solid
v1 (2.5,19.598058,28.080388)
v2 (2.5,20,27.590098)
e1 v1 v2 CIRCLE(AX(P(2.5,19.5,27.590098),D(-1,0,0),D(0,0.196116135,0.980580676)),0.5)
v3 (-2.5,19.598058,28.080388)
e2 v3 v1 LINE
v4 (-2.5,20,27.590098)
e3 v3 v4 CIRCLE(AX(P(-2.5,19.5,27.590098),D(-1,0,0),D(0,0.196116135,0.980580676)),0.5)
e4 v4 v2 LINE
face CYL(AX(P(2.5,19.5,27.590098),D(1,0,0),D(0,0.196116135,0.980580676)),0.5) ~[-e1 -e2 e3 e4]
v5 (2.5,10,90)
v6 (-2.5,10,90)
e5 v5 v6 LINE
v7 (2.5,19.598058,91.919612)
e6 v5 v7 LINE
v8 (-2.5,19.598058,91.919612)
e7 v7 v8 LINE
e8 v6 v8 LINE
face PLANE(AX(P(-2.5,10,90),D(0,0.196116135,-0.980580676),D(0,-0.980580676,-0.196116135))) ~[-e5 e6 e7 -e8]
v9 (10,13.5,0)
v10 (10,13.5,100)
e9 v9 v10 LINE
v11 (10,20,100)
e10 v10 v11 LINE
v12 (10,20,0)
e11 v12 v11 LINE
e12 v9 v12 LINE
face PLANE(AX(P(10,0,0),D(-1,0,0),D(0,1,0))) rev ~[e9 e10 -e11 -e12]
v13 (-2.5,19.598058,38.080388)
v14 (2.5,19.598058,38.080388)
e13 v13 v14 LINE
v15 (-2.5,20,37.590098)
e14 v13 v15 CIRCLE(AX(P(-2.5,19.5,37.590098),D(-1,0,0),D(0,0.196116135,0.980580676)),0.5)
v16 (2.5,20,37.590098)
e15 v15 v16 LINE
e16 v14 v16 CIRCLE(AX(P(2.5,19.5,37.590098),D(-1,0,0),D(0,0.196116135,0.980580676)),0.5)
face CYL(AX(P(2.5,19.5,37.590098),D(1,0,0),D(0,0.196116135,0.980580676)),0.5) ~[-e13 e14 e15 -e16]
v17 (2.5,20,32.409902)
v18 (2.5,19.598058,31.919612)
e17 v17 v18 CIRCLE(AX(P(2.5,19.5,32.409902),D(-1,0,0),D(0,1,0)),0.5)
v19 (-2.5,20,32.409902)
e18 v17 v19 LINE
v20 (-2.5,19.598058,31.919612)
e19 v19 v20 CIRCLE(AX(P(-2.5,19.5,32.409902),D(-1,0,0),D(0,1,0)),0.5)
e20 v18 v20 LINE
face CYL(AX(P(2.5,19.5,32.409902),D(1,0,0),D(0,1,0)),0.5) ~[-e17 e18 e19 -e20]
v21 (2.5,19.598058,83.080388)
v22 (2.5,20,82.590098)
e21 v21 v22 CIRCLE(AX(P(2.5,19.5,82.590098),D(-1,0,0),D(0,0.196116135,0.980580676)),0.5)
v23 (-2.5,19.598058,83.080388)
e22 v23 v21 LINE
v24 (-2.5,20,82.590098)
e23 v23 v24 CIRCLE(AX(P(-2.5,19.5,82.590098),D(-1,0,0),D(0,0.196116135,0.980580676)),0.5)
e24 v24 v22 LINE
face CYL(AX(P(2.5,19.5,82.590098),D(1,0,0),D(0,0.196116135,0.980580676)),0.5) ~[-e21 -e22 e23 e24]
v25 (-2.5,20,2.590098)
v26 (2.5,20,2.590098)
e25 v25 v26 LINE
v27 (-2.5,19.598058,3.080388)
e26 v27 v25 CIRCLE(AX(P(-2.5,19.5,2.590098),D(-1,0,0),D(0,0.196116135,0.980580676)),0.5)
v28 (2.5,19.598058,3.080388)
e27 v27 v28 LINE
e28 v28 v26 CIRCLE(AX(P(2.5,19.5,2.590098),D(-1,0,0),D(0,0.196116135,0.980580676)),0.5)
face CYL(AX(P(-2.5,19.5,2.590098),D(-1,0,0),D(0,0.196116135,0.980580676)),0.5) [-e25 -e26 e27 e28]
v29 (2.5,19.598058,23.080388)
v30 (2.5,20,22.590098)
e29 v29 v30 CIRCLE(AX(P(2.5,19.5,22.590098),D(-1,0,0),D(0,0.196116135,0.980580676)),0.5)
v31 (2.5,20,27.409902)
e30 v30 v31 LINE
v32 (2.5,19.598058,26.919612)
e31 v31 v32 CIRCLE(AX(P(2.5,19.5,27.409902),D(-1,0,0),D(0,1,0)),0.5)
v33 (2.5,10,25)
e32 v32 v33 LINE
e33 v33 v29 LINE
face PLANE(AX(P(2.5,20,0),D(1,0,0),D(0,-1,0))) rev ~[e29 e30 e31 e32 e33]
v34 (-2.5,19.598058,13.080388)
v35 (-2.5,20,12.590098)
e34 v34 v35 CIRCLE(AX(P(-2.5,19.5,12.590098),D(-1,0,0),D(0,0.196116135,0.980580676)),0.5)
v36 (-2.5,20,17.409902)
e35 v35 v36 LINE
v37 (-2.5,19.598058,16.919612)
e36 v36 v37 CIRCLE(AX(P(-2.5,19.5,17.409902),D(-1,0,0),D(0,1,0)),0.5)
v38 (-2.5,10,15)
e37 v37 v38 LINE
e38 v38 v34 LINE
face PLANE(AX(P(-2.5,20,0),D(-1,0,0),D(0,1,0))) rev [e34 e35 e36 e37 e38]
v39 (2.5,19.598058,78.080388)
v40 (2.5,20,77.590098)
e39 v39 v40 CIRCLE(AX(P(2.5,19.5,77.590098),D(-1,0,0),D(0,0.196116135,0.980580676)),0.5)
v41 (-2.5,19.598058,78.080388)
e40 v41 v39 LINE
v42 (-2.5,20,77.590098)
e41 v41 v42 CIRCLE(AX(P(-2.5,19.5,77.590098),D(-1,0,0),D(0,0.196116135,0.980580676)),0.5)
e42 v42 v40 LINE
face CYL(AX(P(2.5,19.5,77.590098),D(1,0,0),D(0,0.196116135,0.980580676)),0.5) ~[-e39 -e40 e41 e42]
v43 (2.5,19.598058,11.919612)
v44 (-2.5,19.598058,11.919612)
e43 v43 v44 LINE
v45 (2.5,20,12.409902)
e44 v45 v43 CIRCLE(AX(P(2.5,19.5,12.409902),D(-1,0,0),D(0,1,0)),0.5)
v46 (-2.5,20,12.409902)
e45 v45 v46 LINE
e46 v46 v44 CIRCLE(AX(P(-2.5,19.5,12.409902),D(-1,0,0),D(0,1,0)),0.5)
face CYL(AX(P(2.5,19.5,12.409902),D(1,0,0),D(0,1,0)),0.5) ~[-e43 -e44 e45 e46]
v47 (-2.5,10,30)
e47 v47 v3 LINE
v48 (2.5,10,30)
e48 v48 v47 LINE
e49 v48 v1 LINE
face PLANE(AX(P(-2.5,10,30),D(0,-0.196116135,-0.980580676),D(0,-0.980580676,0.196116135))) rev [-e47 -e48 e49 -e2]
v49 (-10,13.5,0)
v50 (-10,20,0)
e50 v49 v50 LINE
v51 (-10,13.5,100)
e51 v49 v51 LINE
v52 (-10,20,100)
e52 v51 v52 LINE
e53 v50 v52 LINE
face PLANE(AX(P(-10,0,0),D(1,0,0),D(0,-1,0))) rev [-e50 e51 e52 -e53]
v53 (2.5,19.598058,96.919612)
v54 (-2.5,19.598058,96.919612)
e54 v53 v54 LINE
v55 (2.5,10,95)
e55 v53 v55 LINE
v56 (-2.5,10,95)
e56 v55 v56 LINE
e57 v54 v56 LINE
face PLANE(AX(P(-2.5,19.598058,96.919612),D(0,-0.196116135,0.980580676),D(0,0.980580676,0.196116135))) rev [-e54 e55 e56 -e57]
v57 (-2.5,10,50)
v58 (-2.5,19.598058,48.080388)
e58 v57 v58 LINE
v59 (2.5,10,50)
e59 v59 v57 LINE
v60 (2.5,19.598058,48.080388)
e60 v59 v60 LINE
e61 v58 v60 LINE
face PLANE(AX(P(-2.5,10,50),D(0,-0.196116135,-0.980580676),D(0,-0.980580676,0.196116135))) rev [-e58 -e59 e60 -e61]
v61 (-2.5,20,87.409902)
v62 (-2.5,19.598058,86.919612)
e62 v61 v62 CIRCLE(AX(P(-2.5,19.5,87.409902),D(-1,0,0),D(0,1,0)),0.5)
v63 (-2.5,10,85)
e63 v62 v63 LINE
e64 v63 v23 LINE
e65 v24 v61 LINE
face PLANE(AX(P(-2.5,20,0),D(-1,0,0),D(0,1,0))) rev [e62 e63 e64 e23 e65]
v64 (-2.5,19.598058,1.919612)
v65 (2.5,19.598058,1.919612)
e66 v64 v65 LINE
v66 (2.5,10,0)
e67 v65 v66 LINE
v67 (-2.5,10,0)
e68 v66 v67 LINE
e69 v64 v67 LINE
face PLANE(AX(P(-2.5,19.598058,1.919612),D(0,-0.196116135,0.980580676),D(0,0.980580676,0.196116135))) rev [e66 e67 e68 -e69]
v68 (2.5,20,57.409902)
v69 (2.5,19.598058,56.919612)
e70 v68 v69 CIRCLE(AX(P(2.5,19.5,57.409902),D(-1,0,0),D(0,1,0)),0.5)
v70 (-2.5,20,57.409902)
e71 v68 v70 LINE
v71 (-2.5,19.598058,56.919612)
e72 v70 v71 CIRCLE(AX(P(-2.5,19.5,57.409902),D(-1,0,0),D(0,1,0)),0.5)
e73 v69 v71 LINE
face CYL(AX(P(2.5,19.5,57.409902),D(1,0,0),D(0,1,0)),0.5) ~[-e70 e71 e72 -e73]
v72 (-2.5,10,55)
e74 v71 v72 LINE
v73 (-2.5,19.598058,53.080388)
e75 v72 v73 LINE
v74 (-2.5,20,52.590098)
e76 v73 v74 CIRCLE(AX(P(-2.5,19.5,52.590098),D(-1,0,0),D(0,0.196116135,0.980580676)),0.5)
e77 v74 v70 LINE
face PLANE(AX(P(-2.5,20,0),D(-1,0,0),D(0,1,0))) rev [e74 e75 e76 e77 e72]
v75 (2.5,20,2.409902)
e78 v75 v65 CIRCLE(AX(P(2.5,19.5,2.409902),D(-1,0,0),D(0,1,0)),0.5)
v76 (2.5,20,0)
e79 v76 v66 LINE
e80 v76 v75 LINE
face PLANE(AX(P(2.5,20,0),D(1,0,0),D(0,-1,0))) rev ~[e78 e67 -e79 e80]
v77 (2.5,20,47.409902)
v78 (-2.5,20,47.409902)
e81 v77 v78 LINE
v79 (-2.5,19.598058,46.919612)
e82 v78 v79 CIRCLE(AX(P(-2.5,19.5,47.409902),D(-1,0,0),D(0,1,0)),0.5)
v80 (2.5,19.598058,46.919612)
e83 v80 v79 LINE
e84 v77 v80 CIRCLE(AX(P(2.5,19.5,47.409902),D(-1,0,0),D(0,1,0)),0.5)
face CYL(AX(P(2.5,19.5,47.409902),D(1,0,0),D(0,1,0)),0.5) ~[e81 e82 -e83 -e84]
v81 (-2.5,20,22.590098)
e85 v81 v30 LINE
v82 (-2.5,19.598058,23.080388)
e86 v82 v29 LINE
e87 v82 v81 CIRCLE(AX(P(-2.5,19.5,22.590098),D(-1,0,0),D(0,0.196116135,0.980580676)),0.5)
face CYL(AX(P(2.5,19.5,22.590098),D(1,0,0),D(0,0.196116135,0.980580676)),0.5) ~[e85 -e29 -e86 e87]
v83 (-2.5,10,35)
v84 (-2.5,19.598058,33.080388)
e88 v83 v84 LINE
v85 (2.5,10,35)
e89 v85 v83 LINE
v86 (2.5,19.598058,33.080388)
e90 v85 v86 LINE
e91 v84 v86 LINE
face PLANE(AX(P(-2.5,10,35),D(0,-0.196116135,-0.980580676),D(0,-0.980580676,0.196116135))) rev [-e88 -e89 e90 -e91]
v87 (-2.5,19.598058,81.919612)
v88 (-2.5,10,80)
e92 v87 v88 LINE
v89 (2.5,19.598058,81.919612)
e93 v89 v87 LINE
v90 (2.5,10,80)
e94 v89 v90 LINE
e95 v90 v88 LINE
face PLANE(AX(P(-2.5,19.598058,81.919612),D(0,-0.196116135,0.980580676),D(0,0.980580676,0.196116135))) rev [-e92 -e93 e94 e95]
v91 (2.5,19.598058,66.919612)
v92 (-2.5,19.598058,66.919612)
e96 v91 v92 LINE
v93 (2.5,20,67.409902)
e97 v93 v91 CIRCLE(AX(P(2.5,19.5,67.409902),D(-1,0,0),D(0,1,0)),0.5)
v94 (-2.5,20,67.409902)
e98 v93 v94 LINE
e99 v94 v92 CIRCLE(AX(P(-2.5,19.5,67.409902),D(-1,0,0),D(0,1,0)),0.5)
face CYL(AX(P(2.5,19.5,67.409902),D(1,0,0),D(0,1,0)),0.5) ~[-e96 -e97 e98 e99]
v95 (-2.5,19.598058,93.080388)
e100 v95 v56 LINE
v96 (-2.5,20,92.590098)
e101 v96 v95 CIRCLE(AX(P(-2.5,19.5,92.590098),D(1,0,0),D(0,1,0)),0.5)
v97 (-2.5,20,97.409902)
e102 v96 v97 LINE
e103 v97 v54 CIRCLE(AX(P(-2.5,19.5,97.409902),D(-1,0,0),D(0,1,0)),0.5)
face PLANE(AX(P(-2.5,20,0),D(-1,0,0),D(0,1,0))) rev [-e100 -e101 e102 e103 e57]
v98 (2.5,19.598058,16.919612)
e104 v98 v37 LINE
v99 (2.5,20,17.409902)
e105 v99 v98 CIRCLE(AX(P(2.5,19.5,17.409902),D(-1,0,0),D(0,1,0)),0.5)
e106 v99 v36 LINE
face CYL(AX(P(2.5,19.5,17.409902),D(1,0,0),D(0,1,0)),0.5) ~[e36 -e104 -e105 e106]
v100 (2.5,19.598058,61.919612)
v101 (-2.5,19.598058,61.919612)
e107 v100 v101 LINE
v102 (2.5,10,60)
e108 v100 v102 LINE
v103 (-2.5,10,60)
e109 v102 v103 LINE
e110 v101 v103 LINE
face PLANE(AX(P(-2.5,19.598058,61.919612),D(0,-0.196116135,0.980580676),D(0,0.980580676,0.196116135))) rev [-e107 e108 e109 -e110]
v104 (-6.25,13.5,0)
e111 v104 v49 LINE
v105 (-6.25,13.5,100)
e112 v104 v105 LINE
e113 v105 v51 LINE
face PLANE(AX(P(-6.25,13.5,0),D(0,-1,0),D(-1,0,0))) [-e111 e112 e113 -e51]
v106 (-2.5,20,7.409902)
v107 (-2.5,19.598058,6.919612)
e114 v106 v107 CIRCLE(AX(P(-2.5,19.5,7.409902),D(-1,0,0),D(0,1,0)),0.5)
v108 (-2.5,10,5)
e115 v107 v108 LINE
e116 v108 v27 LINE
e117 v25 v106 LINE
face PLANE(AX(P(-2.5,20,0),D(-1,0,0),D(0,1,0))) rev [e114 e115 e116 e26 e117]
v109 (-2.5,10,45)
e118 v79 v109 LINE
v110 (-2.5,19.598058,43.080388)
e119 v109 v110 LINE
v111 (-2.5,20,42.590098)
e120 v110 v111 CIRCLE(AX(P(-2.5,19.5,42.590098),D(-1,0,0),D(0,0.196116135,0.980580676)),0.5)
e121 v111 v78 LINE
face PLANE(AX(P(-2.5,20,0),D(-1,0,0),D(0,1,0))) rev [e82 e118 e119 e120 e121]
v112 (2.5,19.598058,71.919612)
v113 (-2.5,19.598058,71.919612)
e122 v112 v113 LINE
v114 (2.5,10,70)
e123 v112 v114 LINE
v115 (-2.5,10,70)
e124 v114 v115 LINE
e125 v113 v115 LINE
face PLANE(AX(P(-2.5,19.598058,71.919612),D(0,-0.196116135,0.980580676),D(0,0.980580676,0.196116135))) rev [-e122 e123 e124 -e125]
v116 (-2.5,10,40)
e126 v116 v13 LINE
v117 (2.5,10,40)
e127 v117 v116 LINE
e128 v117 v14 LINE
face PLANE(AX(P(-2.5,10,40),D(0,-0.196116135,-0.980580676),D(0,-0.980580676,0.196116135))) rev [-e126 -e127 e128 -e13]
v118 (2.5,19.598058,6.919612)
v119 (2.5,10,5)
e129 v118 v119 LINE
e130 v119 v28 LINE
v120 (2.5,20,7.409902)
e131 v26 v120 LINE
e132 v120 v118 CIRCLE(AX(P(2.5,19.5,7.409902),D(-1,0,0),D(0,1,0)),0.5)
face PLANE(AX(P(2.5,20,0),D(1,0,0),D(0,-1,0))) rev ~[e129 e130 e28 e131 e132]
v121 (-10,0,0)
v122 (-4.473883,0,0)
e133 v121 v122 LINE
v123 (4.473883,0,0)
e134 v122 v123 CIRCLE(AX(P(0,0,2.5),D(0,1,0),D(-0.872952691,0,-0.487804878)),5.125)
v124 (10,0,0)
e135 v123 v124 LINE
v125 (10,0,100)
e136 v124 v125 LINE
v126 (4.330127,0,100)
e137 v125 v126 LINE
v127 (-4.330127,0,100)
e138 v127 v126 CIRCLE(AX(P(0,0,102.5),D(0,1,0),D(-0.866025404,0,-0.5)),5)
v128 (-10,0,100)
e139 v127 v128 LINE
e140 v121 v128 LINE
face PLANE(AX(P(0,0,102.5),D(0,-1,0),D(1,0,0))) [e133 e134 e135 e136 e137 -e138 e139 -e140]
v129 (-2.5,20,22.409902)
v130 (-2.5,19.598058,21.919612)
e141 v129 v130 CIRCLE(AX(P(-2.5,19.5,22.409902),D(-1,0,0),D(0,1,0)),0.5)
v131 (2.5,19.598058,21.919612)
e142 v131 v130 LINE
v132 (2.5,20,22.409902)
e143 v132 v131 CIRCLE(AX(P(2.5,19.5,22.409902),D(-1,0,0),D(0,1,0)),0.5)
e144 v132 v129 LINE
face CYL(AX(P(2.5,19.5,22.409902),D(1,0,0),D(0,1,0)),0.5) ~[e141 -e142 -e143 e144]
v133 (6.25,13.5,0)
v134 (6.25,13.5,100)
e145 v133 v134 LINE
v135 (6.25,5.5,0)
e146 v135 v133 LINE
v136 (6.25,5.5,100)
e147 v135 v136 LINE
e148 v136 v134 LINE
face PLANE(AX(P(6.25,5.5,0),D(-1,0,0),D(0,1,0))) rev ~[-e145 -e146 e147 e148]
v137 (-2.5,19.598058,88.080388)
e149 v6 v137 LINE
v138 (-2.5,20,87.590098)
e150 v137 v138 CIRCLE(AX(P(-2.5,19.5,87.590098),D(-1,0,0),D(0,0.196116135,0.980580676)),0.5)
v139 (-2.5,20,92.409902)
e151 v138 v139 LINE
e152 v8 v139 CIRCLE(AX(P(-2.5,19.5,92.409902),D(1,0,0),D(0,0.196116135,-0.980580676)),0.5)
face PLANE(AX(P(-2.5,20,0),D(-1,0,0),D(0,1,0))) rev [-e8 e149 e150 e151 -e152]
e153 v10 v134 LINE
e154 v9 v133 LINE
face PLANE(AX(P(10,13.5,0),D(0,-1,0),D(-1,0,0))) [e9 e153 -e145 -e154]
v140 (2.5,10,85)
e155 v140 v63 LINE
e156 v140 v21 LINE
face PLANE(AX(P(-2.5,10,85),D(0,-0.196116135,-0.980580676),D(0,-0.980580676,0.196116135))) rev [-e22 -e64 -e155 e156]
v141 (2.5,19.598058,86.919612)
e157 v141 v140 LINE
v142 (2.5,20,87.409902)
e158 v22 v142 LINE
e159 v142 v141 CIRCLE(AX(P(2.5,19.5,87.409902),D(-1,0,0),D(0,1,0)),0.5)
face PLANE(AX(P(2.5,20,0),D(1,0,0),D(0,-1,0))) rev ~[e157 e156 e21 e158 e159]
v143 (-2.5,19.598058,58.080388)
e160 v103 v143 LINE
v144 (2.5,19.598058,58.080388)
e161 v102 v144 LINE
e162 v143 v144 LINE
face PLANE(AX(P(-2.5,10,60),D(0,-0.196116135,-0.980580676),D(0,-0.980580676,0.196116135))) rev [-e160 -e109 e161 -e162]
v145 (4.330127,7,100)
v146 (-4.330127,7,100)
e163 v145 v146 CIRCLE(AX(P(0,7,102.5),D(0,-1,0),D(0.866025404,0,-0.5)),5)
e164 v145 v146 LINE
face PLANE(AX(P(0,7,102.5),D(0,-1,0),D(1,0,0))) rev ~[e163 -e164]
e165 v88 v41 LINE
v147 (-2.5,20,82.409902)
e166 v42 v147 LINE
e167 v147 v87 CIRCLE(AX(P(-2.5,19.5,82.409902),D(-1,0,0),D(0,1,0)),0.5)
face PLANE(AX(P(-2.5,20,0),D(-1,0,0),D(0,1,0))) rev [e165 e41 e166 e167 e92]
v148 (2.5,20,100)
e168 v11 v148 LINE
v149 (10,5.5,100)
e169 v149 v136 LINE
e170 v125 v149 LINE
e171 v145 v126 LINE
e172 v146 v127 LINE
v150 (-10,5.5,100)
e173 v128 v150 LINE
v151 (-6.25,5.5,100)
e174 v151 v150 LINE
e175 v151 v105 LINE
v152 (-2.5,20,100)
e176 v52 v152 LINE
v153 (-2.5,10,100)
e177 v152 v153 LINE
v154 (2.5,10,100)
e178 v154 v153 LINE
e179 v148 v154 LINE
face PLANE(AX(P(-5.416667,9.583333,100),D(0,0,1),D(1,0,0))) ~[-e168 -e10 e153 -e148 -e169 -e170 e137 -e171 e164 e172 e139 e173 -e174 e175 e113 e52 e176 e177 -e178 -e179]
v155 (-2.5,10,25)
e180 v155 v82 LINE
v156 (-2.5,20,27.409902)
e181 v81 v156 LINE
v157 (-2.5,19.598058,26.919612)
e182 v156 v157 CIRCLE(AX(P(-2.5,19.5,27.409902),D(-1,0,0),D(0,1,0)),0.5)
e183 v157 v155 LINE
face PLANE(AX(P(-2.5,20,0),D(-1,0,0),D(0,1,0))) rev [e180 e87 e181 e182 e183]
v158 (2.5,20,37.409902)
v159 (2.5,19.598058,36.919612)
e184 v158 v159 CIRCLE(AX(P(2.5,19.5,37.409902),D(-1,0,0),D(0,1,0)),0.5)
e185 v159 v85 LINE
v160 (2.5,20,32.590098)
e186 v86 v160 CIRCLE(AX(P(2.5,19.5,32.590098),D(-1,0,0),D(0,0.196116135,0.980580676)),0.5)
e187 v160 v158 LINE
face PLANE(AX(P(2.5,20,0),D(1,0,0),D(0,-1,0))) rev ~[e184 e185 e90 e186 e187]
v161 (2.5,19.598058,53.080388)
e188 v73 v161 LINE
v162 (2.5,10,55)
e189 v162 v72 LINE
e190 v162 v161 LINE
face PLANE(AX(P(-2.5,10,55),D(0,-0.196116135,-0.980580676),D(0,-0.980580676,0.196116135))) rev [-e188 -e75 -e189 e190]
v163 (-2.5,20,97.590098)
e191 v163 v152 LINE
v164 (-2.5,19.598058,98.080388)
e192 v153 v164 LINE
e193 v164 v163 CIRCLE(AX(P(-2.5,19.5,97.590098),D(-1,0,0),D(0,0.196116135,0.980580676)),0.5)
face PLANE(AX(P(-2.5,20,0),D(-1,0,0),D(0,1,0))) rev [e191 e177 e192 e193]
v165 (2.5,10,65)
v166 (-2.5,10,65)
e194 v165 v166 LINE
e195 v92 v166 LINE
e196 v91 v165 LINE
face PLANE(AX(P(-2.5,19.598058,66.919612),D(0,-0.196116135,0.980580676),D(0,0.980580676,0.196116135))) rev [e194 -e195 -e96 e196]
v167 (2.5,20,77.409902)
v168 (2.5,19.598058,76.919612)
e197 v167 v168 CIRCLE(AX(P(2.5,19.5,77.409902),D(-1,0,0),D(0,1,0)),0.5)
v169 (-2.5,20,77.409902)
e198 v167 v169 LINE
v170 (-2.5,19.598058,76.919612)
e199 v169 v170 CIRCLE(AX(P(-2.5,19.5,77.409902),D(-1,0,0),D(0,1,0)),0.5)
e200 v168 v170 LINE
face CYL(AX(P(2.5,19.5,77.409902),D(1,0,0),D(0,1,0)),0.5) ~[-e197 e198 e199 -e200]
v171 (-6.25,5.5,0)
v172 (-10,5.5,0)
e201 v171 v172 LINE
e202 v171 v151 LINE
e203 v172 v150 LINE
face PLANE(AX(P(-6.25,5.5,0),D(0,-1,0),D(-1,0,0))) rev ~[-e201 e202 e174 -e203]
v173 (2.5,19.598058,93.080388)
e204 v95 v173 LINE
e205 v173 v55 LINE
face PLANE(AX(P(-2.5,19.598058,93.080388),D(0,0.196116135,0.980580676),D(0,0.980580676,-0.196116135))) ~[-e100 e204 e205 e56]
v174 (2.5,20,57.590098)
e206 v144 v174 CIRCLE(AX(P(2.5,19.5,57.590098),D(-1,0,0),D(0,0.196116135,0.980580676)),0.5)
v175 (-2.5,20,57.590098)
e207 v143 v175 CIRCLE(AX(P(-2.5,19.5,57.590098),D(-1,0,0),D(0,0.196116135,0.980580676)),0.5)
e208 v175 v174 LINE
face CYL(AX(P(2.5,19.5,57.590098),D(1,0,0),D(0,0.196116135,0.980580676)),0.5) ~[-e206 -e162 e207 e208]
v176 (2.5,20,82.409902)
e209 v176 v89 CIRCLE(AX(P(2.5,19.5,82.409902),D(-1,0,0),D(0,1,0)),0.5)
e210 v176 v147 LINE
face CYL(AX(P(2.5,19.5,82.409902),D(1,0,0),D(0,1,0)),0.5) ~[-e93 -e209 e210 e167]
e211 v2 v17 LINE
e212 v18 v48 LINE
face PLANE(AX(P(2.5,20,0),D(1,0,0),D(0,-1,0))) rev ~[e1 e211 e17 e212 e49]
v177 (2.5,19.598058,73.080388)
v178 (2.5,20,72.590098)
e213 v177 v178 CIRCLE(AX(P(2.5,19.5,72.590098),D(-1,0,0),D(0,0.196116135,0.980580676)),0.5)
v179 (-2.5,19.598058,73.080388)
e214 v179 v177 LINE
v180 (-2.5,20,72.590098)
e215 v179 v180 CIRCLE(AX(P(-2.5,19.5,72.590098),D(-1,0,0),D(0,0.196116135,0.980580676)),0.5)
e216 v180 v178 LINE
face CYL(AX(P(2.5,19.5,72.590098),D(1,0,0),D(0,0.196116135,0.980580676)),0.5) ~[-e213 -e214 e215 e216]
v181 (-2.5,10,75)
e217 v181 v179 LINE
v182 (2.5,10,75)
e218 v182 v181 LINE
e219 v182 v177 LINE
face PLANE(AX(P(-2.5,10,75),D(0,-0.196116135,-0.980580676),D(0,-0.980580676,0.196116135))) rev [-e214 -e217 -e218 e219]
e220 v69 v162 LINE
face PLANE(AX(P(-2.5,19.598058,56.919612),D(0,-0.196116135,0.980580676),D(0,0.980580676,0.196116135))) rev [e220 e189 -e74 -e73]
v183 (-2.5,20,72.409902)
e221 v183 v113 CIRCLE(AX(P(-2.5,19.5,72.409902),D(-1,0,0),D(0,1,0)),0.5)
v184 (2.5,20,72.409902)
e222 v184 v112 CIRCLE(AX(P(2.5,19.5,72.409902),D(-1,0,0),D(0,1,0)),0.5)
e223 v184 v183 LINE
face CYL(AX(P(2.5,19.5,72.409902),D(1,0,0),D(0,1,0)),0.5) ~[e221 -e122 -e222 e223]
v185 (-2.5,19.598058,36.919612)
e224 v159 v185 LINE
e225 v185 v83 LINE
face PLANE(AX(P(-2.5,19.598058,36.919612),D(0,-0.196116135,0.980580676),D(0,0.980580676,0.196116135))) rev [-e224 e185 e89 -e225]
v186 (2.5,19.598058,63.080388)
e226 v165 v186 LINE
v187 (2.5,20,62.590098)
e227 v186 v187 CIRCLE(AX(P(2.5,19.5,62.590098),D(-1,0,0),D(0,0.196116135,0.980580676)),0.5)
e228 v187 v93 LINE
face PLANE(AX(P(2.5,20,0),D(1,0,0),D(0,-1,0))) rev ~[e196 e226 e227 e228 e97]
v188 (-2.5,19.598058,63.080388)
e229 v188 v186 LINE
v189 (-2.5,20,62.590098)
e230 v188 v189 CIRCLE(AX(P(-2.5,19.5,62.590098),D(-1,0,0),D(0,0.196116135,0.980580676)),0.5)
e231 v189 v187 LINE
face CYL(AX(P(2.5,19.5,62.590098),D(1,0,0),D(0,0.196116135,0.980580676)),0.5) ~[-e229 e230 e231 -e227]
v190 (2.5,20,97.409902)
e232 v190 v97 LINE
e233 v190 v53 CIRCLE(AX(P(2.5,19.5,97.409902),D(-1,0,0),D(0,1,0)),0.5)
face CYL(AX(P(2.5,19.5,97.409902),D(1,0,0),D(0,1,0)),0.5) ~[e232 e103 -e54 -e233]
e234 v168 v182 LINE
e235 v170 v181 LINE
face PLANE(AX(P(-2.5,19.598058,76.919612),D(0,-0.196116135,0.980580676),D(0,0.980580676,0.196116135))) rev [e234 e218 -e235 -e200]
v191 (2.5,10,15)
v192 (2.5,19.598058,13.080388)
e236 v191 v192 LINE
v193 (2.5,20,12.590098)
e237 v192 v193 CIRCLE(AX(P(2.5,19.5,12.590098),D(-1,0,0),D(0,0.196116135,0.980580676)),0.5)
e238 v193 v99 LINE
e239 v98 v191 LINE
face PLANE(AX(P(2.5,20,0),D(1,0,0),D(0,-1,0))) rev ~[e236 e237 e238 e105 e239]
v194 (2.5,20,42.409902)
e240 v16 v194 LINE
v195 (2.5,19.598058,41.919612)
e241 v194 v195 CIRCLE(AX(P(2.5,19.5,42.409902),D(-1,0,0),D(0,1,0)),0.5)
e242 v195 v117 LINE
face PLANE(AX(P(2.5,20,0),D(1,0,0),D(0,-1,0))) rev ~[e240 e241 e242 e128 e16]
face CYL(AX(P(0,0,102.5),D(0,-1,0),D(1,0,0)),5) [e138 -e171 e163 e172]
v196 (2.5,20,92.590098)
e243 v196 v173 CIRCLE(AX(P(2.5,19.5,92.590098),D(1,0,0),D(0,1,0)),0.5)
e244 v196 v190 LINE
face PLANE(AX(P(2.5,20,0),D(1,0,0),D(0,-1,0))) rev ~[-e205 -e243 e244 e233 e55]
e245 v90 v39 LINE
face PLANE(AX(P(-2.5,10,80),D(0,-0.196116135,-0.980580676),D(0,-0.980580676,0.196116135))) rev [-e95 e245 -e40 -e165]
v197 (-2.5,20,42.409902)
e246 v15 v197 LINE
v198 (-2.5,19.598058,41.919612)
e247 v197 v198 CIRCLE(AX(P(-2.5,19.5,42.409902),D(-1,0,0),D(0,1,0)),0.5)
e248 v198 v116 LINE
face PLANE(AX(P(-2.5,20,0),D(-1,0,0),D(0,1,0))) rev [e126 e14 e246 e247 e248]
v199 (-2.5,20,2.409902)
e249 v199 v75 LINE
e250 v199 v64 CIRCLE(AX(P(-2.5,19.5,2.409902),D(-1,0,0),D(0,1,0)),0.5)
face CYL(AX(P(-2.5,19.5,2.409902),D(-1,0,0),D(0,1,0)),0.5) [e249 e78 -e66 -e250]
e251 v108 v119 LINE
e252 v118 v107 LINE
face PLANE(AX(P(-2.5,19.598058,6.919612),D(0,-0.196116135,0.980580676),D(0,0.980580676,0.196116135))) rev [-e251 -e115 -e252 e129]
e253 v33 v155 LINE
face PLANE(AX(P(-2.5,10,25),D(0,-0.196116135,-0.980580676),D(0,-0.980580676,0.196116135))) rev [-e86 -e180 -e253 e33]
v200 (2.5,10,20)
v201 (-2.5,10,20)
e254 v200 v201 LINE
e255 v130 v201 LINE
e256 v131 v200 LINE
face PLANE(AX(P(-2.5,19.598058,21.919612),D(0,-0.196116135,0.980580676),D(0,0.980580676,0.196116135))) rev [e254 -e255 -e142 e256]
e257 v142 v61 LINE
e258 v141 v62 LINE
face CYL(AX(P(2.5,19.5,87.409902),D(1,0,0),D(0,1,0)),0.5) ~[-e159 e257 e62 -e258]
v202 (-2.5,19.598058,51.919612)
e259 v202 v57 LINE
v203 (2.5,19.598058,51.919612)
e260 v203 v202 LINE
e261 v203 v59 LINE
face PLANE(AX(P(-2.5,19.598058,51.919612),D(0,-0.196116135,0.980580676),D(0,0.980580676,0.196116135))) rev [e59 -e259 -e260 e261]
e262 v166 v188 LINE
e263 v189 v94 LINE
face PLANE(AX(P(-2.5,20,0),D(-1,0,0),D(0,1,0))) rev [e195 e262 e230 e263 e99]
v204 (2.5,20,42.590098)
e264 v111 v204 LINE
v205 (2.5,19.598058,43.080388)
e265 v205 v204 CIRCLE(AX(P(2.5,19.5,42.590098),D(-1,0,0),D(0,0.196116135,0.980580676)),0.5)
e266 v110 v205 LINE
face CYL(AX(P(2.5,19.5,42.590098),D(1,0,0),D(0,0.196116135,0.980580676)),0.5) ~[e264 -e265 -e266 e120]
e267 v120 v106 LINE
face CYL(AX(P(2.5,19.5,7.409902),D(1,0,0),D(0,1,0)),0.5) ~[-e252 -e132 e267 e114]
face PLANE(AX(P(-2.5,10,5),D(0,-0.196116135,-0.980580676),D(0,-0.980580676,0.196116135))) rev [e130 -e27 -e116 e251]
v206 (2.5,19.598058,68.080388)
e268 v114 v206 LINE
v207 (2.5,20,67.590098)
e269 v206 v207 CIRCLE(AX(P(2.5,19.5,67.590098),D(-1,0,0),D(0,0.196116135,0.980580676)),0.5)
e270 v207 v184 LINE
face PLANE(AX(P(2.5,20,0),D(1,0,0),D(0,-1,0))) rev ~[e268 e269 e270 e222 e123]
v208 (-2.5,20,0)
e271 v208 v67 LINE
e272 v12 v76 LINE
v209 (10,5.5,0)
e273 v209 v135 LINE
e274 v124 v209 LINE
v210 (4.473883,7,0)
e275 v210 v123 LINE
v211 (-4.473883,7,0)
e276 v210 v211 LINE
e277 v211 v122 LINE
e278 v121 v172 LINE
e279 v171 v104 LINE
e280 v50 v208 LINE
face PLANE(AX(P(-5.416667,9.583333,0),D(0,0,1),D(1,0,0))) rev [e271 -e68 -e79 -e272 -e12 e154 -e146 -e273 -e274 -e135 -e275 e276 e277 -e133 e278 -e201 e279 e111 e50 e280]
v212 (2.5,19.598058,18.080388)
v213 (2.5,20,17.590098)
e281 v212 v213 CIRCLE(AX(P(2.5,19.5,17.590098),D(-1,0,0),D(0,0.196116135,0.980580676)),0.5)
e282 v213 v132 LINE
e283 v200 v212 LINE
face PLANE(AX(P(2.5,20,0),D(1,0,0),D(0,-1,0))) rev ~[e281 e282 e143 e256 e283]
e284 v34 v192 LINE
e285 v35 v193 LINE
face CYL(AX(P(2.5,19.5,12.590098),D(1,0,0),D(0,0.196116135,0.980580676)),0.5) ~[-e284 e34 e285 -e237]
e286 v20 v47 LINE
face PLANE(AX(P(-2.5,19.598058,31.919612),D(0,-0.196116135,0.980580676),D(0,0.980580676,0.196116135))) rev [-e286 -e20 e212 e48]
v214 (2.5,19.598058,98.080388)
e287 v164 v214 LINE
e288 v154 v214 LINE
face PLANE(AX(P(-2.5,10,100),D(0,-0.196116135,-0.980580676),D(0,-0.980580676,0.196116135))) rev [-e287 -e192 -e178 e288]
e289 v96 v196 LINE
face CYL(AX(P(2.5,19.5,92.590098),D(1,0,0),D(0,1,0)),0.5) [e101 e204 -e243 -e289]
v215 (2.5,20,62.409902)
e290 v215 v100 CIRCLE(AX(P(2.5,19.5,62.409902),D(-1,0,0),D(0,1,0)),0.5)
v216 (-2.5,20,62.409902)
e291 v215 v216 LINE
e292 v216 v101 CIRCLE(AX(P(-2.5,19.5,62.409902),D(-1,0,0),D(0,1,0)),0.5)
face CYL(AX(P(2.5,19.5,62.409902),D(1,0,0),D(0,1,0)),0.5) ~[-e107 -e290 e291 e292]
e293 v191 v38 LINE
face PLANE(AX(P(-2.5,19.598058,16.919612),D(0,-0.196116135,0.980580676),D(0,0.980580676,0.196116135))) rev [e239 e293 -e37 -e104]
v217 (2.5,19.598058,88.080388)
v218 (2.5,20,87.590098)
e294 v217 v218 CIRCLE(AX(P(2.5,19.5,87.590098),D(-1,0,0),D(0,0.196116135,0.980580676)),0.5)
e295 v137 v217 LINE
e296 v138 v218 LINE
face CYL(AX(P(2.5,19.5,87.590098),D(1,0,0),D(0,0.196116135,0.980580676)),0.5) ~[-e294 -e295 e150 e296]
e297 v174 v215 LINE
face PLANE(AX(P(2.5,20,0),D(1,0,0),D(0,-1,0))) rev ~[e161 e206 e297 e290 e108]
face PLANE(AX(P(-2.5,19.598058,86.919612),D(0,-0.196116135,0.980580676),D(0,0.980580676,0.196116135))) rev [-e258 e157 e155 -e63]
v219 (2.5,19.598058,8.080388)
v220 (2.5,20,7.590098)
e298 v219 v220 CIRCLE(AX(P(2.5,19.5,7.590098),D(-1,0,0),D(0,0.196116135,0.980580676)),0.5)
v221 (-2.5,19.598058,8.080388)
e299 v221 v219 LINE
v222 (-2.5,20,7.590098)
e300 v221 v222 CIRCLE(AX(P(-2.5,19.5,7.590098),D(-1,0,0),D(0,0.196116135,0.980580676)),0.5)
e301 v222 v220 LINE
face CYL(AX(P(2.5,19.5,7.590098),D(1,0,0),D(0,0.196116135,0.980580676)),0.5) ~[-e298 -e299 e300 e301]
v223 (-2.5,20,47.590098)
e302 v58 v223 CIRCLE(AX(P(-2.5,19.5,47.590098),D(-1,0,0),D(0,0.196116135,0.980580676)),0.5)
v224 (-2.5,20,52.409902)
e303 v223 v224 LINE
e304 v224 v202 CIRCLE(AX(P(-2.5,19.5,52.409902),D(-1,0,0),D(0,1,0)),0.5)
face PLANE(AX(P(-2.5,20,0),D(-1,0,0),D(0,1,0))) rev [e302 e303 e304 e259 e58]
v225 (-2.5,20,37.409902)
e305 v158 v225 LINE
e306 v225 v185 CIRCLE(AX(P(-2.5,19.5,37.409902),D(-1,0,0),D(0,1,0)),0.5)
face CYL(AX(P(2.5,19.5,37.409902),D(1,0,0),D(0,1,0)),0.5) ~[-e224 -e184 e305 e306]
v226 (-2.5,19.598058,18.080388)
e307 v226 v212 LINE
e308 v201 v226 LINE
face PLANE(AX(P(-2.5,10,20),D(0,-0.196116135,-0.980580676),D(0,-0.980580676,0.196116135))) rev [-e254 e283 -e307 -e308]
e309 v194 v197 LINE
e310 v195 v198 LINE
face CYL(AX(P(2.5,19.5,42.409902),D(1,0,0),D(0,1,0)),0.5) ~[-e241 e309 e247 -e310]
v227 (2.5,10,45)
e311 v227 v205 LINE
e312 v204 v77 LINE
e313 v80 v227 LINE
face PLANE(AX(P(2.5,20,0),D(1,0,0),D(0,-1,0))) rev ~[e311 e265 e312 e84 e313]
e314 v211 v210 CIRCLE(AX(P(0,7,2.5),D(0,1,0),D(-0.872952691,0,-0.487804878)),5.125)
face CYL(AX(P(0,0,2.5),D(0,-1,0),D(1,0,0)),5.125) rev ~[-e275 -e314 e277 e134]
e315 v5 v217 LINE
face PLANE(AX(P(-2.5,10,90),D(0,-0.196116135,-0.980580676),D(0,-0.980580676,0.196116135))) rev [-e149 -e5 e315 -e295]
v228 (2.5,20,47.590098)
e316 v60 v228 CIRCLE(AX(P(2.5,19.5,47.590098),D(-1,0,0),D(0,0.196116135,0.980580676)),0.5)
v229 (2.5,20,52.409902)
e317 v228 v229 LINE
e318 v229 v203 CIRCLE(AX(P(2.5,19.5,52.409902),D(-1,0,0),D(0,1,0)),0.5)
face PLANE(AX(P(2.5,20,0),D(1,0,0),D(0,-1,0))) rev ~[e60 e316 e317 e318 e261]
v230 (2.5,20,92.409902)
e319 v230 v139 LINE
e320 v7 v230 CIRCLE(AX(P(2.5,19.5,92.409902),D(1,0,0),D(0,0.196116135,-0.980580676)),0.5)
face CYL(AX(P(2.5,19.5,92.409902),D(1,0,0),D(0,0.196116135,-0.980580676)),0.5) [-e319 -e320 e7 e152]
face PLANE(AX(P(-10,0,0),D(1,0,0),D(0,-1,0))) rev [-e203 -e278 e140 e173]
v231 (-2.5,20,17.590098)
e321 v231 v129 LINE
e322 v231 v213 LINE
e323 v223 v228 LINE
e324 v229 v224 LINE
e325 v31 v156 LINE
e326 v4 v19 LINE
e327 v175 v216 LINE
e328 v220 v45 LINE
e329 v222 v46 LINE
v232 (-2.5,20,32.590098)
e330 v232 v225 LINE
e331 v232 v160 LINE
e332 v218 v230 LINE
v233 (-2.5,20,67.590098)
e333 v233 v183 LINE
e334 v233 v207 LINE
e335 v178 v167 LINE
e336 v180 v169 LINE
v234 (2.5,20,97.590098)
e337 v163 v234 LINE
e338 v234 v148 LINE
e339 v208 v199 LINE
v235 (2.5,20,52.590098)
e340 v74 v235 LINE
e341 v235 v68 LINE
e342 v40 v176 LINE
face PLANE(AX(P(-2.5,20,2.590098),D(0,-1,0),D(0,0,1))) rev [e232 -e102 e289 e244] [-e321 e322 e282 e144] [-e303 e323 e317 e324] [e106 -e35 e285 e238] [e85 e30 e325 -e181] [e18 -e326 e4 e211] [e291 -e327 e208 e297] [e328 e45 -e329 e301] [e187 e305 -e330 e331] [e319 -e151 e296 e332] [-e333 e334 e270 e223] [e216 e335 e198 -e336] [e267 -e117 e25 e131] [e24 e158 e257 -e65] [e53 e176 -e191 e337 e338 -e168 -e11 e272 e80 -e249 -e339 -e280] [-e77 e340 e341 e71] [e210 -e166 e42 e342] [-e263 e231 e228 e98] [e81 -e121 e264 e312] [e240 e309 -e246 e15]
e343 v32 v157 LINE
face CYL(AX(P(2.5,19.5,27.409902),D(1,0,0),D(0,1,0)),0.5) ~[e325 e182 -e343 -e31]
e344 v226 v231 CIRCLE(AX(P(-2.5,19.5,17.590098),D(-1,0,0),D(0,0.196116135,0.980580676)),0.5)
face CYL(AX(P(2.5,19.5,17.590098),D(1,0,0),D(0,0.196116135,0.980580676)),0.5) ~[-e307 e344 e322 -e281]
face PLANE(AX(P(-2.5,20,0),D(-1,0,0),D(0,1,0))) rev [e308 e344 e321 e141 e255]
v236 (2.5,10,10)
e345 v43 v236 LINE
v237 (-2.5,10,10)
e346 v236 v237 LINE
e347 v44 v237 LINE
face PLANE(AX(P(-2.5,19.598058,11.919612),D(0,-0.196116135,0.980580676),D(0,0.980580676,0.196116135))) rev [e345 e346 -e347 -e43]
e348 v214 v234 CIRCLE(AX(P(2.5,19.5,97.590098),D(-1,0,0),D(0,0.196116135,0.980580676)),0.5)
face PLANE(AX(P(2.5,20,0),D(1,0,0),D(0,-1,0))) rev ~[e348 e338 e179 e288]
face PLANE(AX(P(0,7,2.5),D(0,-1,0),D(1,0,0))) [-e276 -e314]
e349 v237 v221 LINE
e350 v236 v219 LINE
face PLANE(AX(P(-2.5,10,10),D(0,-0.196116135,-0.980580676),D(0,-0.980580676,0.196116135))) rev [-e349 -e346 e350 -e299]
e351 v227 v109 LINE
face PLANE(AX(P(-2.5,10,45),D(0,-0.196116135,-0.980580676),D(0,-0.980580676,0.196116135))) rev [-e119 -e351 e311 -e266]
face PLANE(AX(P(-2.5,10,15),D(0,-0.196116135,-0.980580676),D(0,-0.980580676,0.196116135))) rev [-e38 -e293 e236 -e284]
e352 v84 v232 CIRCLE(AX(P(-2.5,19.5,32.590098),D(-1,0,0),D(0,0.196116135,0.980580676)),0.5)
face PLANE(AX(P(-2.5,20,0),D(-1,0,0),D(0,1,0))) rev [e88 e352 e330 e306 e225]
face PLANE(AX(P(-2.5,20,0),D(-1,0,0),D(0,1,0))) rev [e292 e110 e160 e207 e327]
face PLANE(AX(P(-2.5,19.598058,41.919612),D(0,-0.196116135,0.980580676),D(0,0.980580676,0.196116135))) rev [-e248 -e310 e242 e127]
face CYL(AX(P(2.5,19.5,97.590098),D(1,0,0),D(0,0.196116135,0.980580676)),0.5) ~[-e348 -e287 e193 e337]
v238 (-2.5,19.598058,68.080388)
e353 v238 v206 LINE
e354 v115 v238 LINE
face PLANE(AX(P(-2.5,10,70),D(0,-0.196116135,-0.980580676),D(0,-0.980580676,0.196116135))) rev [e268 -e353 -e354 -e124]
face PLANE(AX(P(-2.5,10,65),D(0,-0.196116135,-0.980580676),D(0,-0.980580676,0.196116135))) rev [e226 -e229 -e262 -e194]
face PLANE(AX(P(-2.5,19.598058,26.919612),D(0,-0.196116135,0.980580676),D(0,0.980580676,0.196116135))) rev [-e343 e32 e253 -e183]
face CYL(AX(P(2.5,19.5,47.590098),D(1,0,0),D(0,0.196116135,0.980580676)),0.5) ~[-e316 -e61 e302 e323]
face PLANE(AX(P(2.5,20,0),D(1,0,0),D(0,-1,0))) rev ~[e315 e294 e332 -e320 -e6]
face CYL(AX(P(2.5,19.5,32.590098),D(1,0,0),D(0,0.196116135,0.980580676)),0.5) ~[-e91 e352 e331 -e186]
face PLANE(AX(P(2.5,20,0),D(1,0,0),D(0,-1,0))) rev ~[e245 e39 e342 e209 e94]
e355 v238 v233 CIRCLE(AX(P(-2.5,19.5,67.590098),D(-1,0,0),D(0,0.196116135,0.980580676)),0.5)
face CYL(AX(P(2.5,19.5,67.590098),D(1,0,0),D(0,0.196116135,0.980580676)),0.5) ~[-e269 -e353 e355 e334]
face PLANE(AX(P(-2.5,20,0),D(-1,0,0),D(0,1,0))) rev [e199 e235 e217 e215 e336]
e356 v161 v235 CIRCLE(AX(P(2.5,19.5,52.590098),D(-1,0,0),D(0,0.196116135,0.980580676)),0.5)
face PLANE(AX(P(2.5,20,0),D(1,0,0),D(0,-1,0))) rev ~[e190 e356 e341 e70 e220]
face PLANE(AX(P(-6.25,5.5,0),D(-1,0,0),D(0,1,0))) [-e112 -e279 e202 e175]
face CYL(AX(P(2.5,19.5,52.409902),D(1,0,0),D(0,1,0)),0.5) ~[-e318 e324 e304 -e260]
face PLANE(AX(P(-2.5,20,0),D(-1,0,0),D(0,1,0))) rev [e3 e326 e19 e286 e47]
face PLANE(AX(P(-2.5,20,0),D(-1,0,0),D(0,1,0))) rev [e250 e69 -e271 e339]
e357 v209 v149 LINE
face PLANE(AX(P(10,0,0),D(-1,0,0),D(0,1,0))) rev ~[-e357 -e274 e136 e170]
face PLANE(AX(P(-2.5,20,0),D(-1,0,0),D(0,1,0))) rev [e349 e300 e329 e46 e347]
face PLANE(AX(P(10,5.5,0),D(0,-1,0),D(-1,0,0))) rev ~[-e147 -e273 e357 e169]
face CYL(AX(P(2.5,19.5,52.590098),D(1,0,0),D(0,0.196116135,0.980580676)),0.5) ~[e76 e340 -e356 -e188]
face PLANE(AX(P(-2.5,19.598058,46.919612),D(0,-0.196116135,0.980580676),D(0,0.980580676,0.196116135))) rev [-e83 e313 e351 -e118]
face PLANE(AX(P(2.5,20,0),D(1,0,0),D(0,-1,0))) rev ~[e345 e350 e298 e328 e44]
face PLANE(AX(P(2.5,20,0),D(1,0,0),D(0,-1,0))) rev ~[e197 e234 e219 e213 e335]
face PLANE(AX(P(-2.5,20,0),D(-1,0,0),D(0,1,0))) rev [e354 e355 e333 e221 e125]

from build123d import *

# Parameters (mm, degrees)
BOSS_EXTRUDE1_DEPTH = 100
BOSS_EXTRUDE2_DEPTH = 2.5
SKETCH4_R           = 5
BOSS_EXTRUDE3_DEPTH = 7
SKETCH4_3_R         = 5.125
CUT_EXTRUDE1_DEPTH  = 7
SKETCH7_W           = 3.75
SKETCH7_H           = 8
CUT_EXTRUDE4_DEPTH  = 145


with BuildPart() as part:
    # Sketch2 → Boss-Extrude1 (new body)
    with BuildSketch(Plane.XY):
        Polygon((0, 0), (10, 0), (10, 20), (2.5, 20), (2.5, 10), (0, 10), align=None)
    boss_extrude1 = extrude(amount=BOSS_EXTRUDE1_DEPTH)

    # Sketch3 → Boss-Extrude2 (add)
    with BuildSketch(Plane.ZY.offset(-2.5)):
        with BuildLine():
            Line((1.919611614, 19.598058068), (0, 10))
            Line((0, 10), (5, 10))
            Line((5, 10), (3.080388386, 19.598058068))
            ThreePointArc((3.080388386, 19.598058068), (2.907092501, 19.886671071), (2.590098049, 20))
            Line((2.590098049, 20), (2.409901951, 20))
            ThreePointArc((2.409901951, 20), (2.092907499, 19.886671071), (1.919611614, 19.598058068))
        make_face()
        with BuildLine():
            Line((6.919611614, 19.598058068), (5, 10))
            Line((5, 10), (10, 10))
            Line((10, 10), (8.080388386, 19.598058068))
            ThreePointArc((8.080388386, 19.598058068), (7.907092501, 19.886671071), (7.590098049, 20))
            Line((7.590098049, 20), (7.409901951, 20))
            ThreePointArc((7.409901951, 20), (7.092907499, 19.886671071), (6.919611614, 19.598058068))
        make_face()
        with BuildLine():
            Line((11.919611614, 19.598058068), (10, 10))
            Line((10, 10), (15, 10))
            Line((15, 10), (13.080388386, 19.598058068))
            ThreePointArc((13.080388386, 19.598058068), (12.907092501, 19.886671071), (12.590098049, 20))
            Line((12.590098049, 20), (12.409901951, 20))
            ThreePointArc((12.409901951, 20), (12.092907499, 19.886671071), (11.919611614, 19.598058068))
        make_face()
        with BuildLine():
            Line((16.919611614, 19.598058068), (15, 10))
            Line((15, 10), (20, 10))
            Line((20, 10), (18.080388386, 19.598058068))
            ThreePointArc((18.080388386, 19.598058068), (17.907092501, 19.886671071), (17.590098049, 20))
            Line((17.590098049, 20), (17.409901951, 20))
            ThreePointArc((17.409901951, 20), (17.092907499, 19.886671071), (16.919611614, 19.598058068))
        make_face()
        with BuildLine():
            Line((21.919611614, 19.598058068), (20, 10))
            Line((20, 10), (25, 10))
            Line((25, 10), (23.080388386, 19.598058068))
            ThreePointArc((23.080388386, 19.598058068), (22.907092501, 19.886671071), (22.590098049, 20))
            Line((22.590098049, 20), (22.409901951, 20))
            ThreePointArc((22.409901951, 20), (22.092907499, 19.886671071), (21.919611614, 19.598058068))
        make_face()
        with BuildLine():
            Line((26.919611614, 19.598058068), (25, 10))
            Line((25, 10), (30, 10))
            Line((30, 10), (28.080388386, 19.598058068))
            ThreePointArc((28.080388386, 19.598058068), (27.907092501, 19.886671071), (27.590098049, 20))
            Line((27.590098049, 20), (27.409901951, 20))
            ThreePointArc((27.409901951, 20), (27.092907499, 19.886671071), (26.919611614, 19.598058068))
        make_face()
        with BuildLine():
            Line((31.919611614, 19.598058068), (30, 10))
            Line((30, 10), (35, 10))
            Line((35, 10), (33.080388386, 19.598058068))
            ThreePointArc((33.080388386, 19.598058068), (32.907092501, 19.886671071), (32.590098049, 20))
            Line((32.590098049, 20), (32.409901951, 20))
            ThreePointArc((32.409901951, 20), (32.092907499, 19.886671071), (31.919611614, 19.598058068))
        make_face()
        with BuildLine():
            Line((36.919611614, 19.598058068), (35, 10))
            Line((35, 10), (40, 10))
            Line((40, 10), (38.080388386, 19.598058068))
            ThreePointArc((38.080388386, 19.598058068), (37.907092501, 19.886671071), (37.590098049, 20))
            Line((37.590098049, 20), (37.409901951, 20))
            ThreePointArc((37.409901951, 20), (37.092907499, 19.886671071), (36.919611614, 19.598058068))
        make_face()
        with BuildLine():
            Line((41.919611614, 19.598058068), (40, 10))
            Line((40, 10), (45, 10))
            Line((45, 10), (43.080388386, 19.598058068))
            ThreePointArc((43.080388386, 19.598058068), (42.907092501, 19.886671071), (42.590098049, 20))
            Line((42.590098049, 20), (42.409901951, 20))
            ThreePointArc((42.409901951, 20), (42.092907499, 19.886671071), (41.919611614, 19.598058068))
        make_face()
        with BuildLine():
            Line((46.919611614, 19.598058068), (45, 10))
            Line((45, 10), (50, 10))
            Line((50, 10), (48.080388386, 19.598058068))
            ThreePointArc((48.080388386, 19.598058068), (47.907092501, 19.886671071), (47.590098049, 20))
            Line((47.590098049, 20), (47.409901951, 20))
            ThreePointArc((47.409901951, 20), (47.092907499, 19.886671071), (46.919611614, 19.598058068))
        make_face()
        with BuildLine():
            Line((51.919611614, 19.598058068), (50, 10))
            Line((50, 10), (55, 10))
            Line((55, 10), (53.080388386, 19.598058068))
            ThreePointArc((53.080388386, 19.598058068), (52.907092501, 19.886671071), (52.590098049, 20))
            Line((52.590098049, 20), (52.409901951, 20))
            ThreePointArc((52.409901951, 20), (52.092907499, 19.886671071), (51.919611614, 19.598058068))
        make_face()
        with BuildLine():
            Line((56.919611614, 19.598058068), (55, 10))
            Line((55, 10), (60, 10))
            Line((60, 10), (58.080388386, 19.598058068))
            ThreePointArc((58.080388386, 19.598058068), (57.907092501, 19.886671071), (57.590098049, 20))
            Line((57.590098049, 20), (57.409901951, 20))
            ThreePointArc((57.409901951, 20), (57.092907499, 19.886671071), (56.919611614, 19.598058068))
        make_face()
        with BuildLine():
            Line((61.919611614, 19.598058068), (60, 10))
            Line((60, 10), (65, 10))
            Line((65, 10), (63.080388386, 19.598058068))
            ThreePointArc((63.080388386, 19.598058068), (62.907092501, 19.886671071), (62.590098049, 20))
            Line((62.590098049, 20), (62.409901951, 20))
            ThreePointArc((62.409901951, 20), (62.092907499, 19.886671071), (61.919611614, 19.598058068))
        make_face()
        with BuildLine():
            Line((66.919611614, 19.598058068), (65, 10))
            Line((65, 10), (70, 10))
            Line((70, 10), (68.080388386, 19.598058068))
            ThreePointArc((68.080388386, 19.598058068), (67.907092501, 19.886671071), (67.590098049, 20))
            Line((67.590098049, 20), (67.409901951, 20))
            ThreePointArc((67.409901951, 20), (67.092907499, 19.886671071), (66.919611614, 19.598058068))
        make_face()
        with BuildLine():
            Line((71.919611614, 19.598058068), (70, 10))
            Line((70, 10), (75, 10))
            Line((75, 10), (73.080388386, 19.598058068))
            ThreePointArc((73.080388386, 19.598058068), (72.907092501, 19.886671071), (72.590098049, 20))
            Line((72.590098049, 20), (72.409901951, 20))
            ThreePointArc((72.409901951, 20), (72.092907499, 19.886671071), (71.919611614, 19.598058068))
        make_face()
        with BuildLine():
            Line((76.919611614, 19.598058068), (75, 10))
            Line((75, 10), (80, 10))
            Line((80, 10), (78.080388386, 19.598058068))
            ThreePointArc((78.080388386, 19.598058068), (77.907092501, 19.886671071), (77.590098049, 20))
            Line((77.590098049, 20), (77.409901951, 20))
            ThreePointArc((77.409901951, 20), (77.092907499, 19.886671071), (76.919611614, 19.598058068))
        make_face()
        with BuildLine():
            Line((81.919611614, 19.598058068), (80, 10))
            Line((80, 10), (85, 10))
            Line((85, 10), (83.080388386, 19.598058068))
            ThreePointArc((83.080388386, 19.598058068), (82.907092501, 19.886671071), (82.590098049, 20))
            Line((82.590098049, 20), (82.409901951, 20))
            ThreePointArc((82.409901951, 20), (82.092907499, 19.886671071), (81.919611614, 19.598058068))
        make_face()
        with BuildLine():
            Line((86.919611614, 19.598058068), (85, 10))
            Line((85, 10), (90, 10))
            Line((90, 10), (88.080388386, 19.598058068))
            ThreePointArc((88.080388386, 19.598058068), (87.907092501, 19.886671071), (87.590098049, 20))
            Line((87.590098049, 20), (87.409901951, 20))
            ThreePointArc((87.409901951, 20), (87.092907499, 19.886671071), (86.919611614, 19.598058068))
        make_face()
        with BuildLine():
            Line((96.919611614, 19.598058068), (95, 10))
            Line((95, 10), (100, 10))
            Line((100, 10), (98.080388386, 19.598058068))
            ThreePointArc((98.080388386, 19.598058068), (97.907092501, 19.886671071), (97.590098049, 20))
            Line((97.590098049, 20), (97.409901951, 20))
            ThreePointArc((97.409901951, 20), (97.092907499, 19.886671071), (96.919611614, 19.598058068))
        make_face()
        with BuildLine():
            Line((90, 10), (91.919611614, 19.598058068))
            ThreePointArc((91.919611614, 19.598058068), (92.092907499, 19.886671071), (92.409901951, 20))
            Line((92.409901951, 20), (92.590098049, 20))
            ThreePointArc((92.590098049, 20), (92.907092501, 19.886671071), (93.080388386, 19.598058068))
            Line((93.080388386, 19.598058068), (95, 10))
            Line((95, 10), (90, 10))
        make_face()
    boss_extrude2 = extrude(amount=BOSS_EXTRUDE2_DEPTH)

    # Mirror1: Boss-Extrude1, Boss-Extrude2 across plane
    add(boss_extrude1.mirror(Plane(origin=(0, 10, 100), x_dir=(0, 0, 1), z_dir=(1, 0, 0))))
    add(boss_extrude2.mirror(Plane(origin=(0, 10, 100), x_dir=(0, 0, 1), z_dir=(1, 0, 0))))

    # Sketch4 → Boss-Extrude3 (add)
    with BuildSketch(Plane.XZ):
        with Locations((0, 102.5)):
            Circle(SKETCH4_R)
    extrude(amount=-BOSS_EXTRUDE3_DEPTH)

    # Sketch4<3> → Cut-Extrude1 (cut)
    with BuildSketch(Plane.XZ):
        with Locations((0, 2.5)):
            Circle(SKETCH4_3_R)
    extrude(amount=-CUT_EXTRUDE1_DEPTH, mode=Mode.SUBTRACT)

    # Sketch7 → Cut-Extrude4 (cut)
    with BuildSketch(Plane(origin=(0, 0, 0), x_dir=(-1, 0, 0), z_dir=(0, 0, -1))):
        with Locations((-8.125, 9.5)):
            Rectangle(SKETCH7_W, SKETCH7_H)
        with Locations((8.125, 9.5)):
            Rectangle(SKETCH7_W, SKETCH7_H)
    extrude(amount=-CUT_EXTRUDE4_DEPTH, mode=Mode.SUBTRACT)


solid = part.part
